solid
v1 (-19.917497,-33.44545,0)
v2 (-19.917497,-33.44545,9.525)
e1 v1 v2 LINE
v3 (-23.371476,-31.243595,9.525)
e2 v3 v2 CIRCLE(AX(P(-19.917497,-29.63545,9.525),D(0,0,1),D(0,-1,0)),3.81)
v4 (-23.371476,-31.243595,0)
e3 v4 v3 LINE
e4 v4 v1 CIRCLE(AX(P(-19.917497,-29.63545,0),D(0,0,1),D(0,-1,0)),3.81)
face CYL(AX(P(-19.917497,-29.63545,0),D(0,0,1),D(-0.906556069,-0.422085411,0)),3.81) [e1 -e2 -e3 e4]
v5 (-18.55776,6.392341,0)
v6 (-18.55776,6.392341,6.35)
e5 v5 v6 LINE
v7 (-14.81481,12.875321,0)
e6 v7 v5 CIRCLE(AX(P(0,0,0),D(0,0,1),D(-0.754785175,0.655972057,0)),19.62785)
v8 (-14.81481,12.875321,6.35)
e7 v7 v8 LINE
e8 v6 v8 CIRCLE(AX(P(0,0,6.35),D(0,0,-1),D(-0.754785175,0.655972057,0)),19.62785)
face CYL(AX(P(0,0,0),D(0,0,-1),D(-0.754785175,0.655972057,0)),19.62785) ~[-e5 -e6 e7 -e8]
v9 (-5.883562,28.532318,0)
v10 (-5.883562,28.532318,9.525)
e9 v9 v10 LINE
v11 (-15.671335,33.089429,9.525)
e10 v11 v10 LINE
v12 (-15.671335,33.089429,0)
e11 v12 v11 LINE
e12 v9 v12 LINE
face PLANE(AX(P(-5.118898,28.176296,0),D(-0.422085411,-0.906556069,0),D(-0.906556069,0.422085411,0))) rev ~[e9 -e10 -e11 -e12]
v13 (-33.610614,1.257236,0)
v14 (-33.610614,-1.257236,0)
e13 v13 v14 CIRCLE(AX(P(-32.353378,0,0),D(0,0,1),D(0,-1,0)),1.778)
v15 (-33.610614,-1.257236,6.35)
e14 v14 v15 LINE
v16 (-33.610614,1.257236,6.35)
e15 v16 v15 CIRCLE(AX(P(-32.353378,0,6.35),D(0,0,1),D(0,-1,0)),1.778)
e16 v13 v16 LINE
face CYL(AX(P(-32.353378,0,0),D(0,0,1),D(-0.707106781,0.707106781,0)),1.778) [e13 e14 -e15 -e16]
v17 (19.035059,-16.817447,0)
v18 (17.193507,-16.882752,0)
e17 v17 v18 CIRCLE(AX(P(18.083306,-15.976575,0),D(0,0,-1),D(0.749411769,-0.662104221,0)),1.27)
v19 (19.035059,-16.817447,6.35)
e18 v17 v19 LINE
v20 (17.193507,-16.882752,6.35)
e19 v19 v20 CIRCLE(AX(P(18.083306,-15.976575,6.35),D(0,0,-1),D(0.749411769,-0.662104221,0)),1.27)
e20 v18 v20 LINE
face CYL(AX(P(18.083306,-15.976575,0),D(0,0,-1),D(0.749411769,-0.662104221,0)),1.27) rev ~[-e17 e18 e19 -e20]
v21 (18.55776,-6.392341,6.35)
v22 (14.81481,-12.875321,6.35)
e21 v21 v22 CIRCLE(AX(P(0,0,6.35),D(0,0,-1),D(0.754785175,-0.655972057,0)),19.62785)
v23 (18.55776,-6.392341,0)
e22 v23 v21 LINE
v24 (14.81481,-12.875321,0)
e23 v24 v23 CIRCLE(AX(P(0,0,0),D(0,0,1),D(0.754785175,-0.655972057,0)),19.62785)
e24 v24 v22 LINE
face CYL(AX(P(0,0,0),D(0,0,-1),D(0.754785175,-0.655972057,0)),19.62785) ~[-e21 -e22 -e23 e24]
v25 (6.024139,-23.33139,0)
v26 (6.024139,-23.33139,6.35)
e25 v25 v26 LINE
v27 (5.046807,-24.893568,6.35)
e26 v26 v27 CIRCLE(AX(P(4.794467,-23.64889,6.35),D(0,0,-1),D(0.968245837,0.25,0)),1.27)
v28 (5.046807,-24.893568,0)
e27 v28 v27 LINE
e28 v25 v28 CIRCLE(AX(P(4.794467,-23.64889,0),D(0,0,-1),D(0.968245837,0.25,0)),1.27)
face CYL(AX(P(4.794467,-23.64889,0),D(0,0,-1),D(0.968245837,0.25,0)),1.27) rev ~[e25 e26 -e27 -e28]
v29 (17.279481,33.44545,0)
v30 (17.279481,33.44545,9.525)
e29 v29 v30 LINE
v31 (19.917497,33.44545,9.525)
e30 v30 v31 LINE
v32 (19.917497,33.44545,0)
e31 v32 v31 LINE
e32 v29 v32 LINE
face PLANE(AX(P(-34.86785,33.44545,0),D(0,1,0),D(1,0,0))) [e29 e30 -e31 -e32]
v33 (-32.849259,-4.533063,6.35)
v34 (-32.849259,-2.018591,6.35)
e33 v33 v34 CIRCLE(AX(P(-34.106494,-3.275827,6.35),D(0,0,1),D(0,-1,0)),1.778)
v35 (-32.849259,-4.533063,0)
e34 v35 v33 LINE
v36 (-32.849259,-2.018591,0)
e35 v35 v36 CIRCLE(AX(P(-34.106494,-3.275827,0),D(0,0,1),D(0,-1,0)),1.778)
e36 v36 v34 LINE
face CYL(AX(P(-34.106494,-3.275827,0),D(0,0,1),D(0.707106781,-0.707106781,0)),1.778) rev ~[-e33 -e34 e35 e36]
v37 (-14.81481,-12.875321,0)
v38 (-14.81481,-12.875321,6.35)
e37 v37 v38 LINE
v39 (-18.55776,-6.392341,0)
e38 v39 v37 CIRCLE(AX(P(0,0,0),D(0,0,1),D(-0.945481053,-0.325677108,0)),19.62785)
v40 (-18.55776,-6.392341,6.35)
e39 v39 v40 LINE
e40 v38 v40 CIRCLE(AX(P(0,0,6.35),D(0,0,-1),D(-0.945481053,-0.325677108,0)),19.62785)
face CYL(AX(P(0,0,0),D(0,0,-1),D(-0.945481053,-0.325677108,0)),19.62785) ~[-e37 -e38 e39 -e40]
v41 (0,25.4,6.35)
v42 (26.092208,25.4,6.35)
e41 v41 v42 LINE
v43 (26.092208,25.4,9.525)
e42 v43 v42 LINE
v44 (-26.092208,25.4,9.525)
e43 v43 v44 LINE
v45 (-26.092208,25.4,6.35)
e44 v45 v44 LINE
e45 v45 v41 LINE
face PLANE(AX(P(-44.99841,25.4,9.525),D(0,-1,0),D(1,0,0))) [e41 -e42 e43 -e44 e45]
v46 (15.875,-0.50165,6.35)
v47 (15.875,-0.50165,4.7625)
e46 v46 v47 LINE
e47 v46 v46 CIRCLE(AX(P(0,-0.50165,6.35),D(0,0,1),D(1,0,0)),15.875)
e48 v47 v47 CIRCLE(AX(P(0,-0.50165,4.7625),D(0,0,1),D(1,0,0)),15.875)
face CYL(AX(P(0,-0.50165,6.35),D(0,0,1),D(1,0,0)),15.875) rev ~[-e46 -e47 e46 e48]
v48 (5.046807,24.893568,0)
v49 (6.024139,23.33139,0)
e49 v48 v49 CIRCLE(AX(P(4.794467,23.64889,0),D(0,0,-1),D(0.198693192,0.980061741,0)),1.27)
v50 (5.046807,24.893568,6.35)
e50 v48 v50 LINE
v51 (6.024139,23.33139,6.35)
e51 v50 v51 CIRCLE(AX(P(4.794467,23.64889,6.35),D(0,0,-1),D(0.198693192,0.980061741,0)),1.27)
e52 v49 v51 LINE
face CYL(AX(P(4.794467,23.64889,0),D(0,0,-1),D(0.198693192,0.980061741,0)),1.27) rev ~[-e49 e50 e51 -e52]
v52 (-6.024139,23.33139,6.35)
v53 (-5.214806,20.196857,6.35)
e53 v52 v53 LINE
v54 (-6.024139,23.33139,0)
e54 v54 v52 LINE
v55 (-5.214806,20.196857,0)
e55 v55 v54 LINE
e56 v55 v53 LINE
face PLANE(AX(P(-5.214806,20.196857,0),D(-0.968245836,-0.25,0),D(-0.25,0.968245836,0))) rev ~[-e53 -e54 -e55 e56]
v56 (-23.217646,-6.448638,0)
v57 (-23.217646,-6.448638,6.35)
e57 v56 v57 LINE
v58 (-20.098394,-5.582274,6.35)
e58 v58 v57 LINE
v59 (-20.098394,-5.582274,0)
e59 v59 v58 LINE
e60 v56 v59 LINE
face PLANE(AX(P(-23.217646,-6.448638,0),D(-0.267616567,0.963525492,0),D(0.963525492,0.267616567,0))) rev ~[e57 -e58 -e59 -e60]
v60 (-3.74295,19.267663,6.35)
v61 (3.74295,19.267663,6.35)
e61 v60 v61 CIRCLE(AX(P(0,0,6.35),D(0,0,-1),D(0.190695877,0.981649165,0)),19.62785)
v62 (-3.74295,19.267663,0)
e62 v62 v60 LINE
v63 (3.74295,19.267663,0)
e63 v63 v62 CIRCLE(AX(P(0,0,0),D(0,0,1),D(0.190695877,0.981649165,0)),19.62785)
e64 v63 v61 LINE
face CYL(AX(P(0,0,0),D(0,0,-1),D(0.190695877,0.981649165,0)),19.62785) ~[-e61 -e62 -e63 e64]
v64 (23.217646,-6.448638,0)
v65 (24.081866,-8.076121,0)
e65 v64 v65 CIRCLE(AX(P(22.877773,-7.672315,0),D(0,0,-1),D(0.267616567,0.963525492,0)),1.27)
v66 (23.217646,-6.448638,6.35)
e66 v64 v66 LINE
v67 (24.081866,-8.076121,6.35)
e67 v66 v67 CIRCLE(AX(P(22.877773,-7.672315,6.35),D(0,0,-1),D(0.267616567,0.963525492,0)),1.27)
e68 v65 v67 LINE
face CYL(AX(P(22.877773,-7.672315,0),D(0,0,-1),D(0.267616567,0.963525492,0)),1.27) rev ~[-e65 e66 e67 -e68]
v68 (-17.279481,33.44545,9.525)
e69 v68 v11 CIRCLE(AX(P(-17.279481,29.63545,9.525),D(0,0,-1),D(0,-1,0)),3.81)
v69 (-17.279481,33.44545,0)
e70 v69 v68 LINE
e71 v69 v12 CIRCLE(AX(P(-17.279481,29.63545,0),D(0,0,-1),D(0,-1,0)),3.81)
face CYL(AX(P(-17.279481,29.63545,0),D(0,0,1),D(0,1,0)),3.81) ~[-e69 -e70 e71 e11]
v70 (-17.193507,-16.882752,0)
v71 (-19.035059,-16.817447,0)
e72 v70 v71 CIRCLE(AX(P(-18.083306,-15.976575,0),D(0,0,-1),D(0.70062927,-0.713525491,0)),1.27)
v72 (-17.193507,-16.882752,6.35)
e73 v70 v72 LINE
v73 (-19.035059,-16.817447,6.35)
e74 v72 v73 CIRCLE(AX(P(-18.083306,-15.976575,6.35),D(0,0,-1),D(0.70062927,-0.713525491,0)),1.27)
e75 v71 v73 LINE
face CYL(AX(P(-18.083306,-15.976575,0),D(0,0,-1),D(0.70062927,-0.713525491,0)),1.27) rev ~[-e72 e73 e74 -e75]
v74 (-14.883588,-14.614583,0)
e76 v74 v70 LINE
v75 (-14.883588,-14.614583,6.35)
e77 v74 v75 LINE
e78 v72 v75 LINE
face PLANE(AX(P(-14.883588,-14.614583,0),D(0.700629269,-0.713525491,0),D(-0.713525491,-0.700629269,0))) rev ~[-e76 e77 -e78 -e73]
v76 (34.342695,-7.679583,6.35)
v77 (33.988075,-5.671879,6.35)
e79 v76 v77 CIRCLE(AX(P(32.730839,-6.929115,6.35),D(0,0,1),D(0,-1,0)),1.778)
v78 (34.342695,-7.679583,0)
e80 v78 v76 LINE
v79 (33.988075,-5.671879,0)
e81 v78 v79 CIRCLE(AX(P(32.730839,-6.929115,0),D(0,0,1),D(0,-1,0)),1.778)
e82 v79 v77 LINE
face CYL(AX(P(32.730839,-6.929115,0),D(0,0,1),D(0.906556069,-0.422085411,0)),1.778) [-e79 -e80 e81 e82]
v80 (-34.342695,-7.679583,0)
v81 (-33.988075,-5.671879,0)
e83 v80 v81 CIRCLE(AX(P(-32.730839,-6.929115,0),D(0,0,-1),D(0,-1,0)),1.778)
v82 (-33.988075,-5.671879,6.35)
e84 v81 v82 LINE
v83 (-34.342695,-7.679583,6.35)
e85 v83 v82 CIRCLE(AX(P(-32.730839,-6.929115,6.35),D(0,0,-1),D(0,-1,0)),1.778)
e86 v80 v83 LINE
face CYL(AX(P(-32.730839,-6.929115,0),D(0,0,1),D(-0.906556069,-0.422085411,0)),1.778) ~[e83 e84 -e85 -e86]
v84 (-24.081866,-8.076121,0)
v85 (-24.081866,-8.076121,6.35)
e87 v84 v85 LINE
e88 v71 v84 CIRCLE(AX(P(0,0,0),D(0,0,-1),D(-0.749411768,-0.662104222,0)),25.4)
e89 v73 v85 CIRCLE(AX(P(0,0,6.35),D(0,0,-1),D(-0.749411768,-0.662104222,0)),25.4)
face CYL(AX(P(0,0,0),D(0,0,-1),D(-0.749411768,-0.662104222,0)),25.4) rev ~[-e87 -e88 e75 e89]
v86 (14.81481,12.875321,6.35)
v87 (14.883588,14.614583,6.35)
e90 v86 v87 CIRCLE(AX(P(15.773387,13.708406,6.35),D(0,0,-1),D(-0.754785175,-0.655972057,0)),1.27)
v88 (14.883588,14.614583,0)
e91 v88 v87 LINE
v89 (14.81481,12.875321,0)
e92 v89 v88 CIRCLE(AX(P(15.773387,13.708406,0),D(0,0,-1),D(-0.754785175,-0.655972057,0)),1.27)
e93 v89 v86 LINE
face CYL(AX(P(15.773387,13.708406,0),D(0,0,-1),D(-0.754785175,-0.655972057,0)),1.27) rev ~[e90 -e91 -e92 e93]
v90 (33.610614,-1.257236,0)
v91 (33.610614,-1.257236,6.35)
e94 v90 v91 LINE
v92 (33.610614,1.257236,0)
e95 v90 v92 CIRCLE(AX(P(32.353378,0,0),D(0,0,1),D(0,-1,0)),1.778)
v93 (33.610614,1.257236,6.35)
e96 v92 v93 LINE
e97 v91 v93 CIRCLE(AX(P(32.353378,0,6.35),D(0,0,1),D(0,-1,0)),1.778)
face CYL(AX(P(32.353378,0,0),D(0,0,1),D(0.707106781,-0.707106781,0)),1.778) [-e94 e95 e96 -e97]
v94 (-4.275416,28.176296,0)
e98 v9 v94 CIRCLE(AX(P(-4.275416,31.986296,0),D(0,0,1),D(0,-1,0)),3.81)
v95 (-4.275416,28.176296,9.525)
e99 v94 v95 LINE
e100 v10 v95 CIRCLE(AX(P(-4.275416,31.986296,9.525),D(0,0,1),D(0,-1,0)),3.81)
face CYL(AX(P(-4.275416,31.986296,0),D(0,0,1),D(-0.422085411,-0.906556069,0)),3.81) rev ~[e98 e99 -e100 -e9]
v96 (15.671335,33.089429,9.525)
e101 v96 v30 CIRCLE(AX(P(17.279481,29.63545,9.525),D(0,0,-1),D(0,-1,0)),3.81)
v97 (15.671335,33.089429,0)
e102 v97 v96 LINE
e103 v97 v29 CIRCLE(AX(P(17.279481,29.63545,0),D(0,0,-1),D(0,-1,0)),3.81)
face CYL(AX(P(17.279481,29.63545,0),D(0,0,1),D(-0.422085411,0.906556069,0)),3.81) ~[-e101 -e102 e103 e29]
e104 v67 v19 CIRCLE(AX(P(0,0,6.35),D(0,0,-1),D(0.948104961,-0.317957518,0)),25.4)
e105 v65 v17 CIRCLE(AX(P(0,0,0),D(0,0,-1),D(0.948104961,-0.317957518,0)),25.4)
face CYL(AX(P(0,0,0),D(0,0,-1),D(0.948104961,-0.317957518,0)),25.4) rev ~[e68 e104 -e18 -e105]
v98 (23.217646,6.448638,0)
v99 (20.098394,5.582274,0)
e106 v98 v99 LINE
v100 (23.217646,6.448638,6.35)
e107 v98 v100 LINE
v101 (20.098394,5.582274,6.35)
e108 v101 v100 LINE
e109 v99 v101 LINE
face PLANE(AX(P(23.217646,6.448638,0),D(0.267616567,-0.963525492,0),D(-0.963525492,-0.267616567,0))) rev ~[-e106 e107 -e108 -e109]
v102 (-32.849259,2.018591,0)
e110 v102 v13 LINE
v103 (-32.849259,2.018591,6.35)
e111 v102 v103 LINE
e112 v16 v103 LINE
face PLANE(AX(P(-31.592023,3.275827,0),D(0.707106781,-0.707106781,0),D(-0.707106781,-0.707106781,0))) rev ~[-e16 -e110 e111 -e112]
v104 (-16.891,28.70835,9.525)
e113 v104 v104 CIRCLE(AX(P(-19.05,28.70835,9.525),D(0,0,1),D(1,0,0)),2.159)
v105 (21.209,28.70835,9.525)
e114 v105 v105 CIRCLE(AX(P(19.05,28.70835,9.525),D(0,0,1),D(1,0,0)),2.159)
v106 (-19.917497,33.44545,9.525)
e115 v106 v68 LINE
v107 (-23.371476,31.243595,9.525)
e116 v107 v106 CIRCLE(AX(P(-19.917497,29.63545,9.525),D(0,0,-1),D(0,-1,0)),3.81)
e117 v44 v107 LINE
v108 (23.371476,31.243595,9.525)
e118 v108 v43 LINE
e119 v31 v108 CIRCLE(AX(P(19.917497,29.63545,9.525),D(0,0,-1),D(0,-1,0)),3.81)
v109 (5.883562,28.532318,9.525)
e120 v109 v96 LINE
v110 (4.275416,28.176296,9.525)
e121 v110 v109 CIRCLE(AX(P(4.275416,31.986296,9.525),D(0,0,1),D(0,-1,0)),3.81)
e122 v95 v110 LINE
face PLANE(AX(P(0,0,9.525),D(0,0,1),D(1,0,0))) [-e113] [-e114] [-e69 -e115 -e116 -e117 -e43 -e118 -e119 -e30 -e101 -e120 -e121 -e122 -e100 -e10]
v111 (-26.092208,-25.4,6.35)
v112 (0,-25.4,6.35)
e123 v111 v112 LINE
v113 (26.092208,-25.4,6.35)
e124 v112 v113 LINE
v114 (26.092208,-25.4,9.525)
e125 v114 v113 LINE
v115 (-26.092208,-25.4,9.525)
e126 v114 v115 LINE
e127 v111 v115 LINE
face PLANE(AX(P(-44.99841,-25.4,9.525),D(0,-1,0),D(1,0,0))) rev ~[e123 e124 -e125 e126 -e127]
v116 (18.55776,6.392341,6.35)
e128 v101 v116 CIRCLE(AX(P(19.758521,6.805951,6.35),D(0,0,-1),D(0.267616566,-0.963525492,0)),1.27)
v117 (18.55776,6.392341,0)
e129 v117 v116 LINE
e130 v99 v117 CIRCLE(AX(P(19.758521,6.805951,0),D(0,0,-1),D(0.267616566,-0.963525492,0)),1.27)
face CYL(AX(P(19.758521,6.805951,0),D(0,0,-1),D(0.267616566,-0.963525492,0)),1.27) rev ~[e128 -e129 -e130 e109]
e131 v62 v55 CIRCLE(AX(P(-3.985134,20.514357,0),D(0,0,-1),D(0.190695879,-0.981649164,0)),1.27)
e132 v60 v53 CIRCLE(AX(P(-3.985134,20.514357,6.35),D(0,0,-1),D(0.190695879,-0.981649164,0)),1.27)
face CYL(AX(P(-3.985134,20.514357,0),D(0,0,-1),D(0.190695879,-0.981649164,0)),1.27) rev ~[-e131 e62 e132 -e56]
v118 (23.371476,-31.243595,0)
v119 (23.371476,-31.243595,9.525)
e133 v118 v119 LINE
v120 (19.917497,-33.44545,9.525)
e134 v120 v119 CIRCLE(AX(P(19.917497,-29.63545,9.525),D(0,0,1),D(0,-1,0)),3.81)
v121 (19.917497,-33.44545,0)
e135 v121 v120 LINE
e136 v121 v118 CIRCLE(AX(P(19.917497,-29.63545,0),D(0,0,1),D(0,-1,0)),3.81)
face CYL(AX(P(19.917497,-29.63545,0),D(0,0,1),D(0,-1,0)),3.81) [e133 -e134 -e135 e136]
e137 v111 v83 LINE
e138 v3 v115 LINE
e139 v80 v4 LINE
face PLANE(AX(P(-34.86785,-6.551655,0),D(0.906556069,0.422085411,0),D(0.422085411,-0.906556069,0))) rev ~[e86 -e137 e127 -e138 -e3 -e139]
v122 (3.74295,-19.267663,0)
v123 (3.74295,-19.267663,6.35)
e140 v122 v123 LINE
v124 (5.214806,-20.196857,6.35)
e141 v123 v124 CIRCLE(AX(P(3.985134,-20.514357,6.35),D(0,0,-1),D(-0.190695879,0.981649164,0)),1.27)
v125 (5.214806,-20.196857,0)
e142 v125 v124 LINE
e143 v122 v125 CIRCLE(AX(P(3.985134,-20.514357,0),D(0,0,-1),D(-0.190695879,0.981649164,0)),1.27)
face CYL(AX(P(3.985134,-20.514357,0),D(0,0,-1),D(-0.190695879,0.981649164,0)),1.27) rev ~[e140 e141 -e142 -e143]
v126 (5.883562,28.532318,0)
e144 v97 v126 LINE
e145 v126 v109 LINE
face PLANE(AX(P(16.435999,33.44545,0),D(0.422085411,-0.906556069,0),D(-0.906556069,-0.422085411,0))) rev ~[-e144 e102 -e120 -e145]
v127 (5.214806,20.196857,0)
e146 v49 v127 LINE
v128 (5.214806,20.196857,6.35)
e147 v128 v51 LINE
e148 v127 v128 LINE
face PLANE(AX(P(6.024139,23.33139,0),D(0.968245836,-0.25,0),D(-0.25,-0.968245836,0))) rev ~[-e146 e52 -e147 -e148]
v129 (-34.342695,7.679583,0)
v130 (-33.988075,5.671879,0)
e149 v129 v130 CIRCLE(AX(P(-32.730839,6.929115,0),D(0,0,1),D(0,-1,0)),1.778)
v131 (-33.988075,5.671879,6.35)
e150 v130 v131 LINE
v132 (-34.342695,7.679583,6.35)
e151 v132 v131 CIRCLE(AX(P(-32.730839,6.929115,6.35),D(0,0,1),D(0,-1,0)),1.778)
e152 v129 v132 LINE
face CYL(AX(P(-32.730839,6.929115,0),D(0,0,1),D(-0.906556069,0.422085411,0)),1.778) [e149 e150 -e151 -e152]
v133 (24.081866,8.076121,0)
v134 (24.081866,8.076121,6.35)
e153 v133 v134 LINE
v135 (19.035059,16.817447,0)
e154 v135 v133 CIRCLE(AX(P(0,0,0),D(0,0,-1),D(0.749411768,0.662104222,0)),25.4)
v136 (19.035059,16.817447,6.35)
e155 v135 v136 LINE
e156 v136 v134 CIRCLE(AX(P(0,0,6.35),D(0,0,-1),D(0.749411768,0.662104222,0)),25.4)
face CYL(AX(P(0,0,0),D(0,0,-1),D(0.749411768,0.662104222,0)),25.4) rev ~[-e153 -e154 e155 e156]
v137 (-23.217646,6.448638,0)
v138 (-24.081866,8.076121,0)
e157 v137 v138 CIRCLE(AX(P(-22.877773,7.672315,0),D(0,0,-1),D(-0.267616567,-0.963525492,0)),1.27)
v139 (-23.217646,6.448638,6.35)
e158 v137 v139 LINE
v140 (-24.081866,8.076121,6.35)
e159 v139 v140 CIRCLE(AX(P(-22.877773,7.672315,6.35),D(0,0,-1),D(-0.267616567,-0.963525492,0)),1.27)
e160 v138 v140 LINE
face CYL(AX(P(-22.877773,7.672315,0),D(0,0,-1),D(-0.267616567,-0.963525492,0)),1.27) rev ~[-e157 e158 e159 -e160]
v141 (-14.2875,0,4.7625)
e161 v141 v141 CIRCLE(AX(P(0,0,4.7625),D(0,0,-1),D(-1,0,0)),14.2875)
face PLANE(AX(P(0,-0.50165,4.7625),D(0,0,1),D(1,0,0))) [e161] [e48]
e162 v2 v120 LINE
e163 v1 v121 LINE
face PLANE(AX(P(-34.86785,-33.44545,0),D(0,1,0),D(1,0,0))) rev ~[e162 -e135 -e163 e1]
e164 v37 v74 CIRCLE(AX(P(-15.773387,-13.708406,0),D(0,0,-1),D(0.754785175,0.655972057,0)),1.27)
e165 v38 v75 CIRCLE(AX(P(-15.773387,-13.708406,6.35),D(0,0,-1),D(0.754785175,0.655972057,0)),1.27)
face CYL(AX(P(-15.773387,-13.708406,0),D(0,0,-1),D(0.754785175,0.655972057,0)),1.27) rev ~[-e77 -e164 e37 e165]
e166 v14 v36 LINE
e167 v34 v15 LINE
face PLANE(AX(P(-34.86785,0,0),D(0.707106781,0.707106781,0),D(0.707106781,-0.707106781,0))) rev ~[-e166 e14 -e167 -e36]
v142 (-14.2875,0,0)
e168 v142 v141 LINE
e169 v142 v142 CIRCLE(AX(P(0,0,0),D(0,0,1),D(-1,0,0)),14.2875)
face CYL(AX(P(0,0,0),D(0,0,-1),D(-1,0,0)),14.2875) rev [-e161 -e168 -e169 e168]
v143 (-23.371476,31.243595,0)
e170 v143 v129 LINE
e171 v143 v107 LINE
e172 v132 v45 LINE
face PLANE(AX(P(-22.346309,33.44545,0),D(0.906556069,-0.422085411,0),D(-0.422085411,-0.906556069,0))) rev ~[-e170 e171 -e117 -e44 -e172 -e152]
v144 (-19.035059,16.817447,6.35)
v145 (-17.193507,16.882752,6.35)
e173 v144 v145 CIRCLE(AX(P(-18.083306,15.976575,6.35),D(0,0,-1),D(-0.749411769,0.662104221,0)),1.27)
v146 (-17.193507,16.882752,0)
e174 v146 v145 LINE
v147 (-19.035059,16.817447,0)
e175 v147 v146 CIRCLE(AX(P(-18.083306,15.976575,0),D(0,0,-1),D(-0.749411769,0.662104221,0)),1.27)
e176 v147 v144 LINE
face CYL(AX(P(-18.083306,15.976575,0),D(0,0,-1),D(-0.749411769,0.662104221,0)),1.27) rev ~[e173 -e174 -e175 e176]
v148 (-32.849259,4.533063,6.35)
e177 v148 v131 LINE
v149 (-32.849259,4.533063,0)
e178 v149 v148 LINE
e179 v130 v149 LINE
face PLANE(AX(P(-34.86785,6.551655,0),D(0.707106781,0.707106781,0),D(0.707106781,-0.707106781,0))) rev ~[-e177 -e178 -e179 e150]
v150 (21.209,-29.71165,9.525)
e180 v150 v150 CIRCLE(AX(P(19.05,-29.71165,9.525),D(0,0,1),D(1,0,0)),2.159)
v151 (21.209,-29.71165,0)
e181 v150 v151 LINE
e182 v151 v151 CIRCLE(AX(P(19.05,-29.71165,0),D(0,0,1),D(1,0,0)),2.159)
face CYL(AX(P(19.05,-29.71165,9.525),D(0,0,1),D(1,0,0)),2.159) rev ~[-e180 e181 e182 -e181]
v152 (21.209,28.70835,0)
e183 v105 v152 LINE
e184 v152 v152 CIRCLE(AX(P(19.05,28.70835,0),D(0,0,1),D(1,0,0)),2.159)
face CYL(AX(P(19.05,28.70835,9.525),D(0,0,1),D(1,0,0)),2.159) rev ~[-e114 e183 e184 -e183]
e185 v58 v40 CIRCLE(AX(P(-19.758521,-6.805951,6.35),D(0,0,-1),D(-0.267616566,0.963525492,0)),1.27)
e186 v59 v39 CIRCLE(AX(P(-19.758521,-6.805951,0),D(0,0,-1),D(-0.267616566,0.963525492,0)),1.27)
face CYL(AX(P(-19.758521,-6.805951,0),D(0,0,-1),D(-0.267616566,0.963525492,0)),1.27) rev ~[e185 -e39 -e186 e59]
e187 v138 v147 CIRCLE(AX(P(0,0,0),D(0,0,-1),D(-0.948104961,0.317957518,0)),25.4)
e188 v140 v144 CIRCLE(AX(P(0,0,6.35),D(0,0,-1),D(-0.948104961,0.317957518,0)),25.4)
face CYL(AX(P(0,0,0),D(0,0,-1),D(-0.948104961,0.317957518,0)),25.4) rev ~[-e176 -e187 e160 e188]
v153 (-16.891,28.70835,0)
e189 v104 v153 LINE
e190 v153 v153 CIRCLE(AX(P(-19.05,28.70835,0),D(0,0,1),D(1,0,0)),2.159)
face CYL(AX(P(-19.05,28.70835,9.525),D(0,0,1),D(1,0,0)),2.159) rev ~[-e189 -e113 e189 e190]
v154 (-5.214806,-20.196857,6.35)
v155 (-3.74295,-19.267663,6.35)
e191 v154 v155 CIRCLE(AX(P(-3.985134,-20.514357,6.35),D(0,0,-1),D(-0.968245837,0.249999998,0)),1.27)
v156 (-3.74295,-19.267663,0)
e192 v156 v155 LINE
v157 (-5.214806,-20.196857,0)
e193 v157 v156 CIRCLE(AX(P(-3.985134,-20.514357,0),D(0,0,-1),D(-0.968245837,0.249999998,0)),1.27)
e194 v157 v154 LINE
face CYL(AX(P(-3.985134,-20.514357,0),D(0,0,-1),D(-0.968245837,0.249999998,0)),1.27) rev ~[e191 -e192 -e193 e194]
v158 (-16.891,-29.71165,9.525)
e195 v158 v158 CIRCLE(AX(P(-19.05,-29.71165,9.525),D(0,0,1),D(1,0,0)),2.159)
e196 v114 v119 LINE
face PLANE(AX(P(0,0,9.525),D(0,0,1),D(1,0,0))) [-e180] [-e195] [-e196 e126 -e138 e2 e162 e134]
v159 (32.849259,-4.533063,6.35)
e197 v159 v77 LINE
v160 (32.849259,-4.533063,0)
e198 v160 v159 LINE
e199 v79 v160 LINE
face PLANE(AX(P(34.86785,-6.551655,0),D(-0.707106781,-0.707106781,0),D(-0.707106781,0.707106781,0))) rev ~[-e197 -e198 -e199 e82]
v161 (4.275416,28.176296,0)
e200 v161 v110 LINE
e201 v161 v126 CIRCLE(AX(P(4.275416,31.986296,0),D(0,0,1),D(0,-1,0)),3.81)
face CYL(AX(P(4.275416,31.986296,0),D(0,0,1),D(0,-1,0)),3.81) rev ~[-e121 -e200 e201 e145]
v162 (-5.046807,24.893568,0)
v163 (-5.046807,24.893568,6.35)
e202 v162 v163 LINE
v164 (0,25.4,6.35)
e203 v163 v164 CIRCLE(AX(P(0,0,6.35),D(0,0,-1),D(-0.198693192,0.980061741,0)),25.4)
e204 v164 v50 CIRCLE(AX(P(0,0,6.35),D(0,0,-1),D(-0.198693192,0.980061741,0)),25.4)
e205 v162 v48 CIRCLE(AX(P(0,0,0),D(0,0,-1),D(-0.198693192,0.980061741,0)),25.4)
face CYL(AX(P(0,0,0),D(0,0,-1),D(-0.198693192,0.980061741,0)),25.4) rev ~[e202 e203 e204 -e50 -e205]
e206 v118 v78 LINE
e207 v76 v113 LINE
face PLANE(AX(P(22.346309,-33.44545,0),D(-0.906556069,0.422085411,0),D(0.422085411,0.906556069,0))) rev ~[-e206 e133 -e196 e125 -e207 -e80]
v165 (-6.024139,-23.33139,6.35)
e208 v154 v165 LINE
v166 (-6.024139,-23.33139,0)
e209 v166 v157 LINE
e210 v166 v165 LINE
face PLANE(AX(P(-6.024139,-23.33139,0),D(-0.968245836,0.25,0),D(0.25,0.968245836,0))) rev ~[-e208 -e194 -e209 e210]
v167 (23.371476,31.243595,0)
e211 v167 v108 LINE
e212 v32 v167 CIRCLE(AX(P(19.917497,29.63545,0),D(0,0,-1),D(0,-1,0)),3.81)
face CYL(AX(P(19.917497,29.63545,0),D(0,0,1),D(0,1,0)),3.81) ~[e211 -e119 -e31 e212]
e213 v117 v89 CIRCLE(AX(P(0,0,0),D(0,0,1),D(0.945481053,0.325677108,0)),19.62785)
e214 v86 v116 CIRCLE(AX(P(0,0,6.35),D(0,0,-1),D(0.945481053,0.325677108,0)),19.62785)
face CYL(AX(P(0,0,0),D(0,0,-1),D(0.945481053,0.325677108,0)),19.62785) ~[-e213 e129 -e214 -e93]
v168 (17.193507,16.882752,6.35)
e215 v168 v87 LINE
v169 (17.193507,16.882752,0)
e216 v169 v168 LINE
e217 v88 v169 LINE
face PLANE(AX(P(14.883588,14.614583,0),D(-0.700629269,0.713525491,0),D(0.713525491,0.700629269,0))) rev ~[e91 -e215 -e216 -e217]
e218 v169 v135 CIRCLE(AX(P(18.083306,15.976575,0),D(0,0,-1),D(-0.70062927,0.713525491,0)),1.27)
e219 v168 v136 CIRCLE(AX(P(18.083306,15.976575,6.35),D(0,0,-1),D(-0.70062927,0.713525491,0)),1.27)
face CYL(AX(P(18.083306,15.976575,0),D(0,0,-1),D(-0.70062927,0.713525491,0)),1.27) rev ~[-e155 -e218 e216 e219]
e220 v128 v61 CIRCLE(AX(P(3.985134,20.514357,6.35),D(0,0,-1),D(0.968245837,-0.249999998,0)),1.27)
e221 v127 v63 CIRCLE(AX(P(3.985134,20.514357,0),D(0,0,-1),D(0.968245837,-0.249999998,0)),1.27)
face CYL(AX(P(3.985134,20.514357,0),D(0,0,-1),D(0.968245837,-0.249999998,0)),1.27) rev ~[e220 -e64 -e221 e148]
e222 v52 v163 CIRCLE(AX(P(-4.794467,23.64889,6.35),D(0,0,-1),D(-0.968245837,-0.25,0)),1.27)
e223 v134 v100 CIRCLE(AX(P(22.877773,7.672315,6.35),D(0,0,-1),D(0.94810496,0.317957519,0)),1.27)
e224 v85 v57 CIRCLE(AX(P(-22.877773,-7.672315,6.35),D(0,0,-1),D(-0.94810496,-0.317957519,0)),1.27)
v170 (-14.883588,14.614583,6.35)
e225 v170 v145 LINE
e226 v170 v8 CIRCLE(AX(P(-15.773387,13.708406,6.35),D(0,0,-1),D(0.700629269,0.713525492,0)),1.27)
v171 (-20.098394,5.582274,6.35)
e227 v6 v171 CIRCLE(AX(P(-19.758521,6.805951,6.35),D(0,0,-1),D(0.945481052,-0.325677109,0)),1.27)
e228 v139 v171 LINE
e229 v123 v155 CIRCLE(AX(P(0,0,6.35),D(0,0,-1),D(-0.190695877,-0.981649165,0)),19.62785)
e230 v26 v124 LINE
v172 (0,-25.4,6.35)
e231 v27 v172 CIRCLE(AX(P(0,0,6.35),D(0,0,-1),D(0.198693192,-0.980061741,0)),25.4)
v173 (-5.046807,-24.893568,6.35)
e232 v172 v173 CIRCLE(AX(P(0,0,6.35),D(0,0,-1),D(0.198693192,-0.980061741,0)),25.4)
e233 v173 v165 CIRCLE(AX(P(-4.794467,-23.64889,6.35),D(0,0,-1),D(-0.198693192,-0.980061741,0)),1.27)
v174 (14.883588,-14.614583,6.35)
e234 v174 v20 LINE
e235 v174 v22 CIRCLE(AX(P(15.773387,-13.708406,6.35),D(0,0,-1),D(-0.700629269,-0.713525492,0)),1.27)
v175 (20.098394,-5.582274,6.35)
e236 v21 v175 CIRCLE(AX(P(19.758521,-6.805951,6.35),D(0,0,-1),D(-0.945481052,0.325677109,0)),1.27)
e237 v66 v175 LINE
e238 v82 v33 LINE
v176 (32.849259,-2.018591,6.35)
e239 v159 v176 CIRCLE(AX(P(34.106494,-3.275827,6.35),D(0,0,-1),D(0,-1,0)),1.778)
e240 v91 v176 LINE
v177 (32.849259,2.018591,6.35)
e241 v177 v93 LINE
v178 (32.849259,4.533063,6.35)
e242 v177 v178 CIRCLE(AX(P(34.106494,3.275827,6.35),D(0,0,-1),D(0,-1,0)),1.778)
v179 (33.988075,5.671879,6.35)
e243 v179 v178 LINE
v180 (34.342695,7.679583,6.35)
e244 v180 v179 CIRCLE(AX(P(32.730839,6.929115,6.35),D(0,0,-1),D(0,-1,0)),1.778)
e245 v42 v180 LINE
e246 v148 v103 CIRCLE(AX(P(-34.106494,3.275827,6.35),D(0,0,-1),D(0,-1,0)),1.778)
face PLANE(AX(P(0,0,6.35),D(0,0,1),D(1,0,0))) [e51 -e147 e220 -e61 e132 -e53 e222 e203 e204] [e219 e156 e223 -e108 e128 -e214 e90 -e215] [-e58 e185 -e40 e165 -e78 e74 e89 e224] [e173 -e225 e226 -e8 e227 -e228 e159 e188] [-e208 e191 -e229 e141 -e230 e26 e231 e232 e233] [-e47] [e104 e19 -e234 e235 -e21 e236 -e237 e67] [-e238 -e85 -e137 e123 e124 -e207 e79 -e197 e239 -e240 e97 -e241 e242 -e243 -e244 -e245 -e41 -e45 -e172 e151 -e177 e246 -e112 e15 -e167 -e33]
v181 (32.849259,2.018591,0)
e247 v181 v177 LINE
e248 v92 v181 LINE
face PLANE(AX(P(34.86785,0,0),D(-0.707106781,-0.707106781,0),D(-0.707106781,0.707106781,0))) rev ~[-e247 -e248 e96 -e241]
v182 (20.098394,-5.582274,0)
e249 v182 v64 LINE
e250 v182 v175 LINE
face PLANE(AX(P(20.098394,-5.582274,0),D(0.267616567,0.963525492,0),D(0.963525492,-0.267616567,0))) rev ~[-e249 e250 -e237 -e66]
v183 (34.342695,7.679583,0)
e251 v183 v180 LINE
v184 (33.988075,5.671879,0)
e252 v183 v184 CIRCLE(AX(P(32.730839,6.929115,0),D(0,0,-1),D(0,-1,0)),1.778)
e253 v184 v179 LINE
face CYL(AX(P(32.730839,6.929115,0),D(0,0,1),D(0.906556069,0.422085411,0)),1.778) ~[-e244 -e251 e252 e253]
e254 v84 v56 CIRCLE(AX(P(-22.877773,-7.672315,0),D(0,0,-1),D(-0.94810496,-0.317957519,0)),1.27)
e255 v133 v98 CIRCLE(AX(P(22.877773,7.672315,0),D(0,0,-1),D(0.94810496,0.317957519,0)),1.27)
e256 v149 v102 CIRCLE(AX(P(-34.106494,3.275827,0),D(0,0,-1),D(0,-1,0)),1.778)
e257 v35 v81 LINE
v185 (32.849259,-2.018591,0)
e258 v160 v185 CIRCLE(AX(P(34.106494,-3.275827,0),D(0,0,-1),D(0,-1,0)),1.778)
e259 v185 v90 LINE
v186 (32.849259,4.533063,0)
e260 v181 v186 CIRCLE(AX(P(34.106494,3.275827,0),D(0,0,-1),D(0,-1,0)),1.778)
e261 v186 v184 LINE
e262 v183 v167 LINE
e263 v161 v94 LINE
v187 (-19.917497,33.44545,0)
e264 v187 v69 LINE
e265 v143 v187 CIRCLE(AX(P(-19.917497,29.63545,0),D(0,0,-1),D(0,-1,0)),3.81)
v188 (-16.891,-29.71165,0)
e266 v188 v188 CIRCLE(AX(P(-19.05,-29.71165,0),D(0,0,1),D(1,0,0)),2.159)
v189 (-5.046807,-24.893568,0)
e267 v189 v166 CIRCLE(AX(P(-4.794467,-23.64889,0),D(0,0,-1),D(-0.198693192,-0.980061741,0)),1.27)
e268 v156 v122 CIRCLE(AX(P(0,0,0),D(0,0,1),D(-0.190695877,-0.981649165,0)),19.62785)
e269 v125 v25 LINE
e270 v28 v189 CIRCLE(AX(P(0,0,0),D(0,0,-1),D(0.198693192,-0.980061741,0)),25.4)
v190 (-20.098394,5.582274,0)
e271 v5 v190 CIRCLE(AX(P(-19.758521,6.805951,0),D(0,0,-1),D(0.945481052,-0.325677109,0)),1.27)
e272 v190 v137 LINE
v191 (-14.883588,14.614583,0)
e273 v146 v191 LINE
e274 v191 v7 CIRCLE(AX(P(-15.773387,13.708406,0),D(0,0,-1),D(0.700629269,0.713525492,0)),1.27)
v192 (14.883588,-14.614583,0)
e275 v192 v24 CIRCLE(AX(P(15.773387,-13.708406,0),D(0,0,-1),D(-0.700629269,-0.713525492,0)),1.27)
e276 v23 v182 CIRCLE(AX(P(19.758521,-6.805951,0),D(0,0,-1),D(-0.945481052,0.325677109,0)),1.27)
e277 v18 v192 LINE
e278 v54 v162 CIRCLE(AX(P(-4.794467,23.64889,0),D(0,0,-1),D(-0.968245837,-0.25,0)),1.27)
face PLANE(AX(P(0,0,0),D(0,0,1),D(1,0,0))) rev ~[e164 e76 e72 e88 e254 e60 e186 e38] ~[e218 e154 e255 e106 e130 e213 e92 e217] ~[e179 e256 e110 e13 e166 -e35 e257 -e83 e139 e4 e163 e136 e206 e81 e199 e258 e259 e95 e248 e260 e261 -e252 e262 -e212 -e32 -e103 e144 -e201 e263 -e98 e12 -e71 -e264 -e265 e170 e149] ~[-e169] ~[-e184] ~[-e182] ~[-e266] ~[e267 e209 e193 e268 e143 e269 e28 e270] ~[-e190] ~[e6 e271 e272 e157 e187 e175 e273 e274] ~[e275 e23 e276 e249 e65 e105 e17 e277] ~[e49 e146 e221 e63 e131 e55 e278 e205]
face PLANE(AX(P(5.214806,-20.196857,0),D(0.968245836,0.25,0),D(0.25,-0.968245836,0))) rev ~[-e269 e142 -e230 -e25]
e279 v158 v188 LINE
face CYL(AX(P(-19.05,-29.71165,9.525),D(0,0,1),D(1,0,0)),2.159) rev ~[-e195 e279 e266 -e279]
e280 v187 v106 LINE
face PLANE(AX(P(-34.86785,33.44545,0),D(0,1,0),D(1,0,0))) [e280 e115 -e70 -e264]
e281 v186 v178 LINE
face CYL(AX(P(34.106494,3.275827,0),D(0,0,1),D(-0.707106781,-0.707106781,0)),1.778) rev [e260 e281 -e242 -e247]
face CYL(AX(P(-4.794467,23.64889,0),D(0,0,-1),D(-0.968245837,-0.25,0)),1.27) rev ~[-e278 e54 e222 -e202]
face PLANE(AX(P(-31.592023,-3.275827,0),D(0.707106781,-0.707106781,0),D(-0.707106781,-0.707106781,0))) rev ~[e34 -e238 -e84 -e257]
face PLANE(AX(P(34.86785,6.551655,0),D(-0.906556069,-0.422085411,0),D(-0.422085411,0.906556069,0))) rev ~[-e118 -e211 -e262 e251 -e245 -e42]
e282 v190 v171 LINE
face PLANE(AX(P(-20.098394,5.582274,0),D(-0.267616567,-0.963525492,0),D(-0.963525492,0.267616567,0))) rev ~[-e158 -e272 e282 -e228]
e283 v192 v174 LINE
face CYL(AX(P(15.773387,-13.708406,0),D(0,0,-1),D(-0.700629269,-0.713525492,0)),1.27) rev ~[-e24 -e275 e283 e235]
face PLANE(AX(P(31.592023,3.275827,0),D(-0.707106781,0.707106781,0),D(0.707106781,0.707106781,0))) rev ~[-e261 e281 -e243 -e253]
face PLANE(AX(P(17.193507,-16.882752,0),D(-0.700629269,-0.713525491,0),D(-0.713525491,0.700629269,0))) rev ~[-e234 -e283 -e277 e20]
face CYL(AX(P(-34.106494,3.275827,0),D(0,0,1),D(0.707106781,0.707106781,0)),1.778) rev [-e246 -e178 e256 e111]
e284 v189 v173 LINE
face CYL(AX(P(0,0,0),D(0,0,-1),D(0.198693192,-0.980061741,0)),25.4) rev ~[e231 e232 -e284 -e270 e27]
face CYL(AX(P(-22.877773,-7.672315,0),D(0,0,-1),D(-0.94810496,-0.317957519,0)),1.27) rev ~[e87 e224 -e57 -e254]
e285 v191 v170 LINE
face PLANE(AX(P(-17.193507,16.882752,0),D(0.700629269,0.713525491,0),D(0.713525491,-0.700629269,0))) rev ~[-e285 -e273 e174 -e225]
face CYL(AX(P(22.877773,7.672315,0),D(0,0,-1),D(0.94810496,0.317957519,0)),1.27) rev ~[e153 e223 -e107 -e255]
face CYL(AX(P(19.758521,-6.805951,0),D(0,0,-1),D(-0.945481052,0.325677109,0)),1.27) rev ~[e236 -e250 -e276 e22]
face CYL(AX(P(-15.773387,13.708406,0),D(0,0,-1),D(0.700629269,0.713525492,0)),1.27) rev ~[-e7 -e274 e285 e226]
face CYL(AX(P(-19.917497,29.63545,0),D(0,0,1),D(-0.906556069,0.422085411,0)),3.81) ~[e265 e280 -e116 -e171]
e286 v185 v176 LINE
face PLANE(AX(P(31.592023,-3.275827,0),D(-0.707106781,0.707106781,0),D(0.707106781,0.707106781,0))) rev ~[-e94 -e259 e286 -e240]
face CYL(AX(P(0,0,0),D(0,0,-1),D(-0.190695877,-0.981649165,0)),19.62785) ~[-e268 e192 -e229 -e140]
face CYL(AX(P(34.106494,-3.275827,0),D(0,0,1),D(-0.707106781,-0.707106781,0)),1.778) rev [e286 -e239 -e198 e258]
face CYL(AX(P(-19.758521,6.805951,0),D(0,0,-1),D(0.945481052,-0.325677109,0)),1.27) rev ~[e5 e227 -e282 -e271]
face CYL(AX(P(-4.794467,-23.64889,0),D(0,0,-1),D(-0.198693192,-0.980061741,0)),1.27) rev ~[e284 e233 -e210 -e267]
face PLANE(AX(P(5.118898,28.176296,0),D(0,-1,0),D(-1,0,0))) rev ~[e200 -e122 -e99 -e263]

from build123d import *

# Parameters (mm, degrees)
SKETCH1_W           = 69.7357
SKETCH1_H           = 66.8909
SKETCH1_R           = 14.2875
BOSS_EXTRUDE1_DEPTH = 9.525
SKETCH2_W           = 89.996819584
SKETCH2_H           = 50.8
CUT_EXTRUDE1_DEPTH  = 3.175
SKETCH3_R           = 15.875
CUT_EXTRUDE2_DEPTH  = 1.5875
CUT_EXTRUDE3_DEPTH  = 50.245210065
FILLET1_R           = 3.81
FILLET2_R           = 1.778
CUT_EXTRUDE4_DEPTH  = 49.991669707
SKETCH6_R           = 2.159
CUT_EXTRUDE5_DEPTH  = 49.991669707


with BuildPart() as part:
    # Sketch1 → Boss-Extrude1 (new body)
    with BuildSketch(Plane.XY):
        Rectangle(SKETCH1_W, SKETCH1_H)
        with Locations(Location((0, 0, 0), (0, 0, 180))):
            Circle(SKETCH1_R, mode=Mode.SUBTRACT)
    extrude(amount=BOSS_EXTRUDE1_DEPTH)

    # Sketch2 → Cut-Extrude1 (cut)
    with BuildSketch(Plane.XY.offset(9.525)):
        Rectangle(SKETCH2_W, SKETCH2_H)
    extrude(amount=-CUT_EXTRUDE1_DEPTH, mode=Mode.SUBTRACT)

    # Sketch3 → Cut-Extrude2 (cut)
    with BuildSketch(Plane.XY.offset(6.35)):
        with Locations((0, -0.50165)):
            Circle(SKETCH3_R)
    extrude(amount=-CUT_EXTRUDE2_DEPTH, mode=Mode.SUBTRACT)

    # Sketch4 → Cut-Extrude3 (cut, through all)
    with BuildSketch(Plane(origin=(0, 0, 0), x_dir=(-1, 0, 0), z_dir=(0, 0, -1))):
        Polygon((-34.86785, 6.551654679), (-22.346309376, 33.44545), (-34.86785, 33.44545), align=None)
        Polygon((-31.592022661, 3.275827339), (-34.86785, 6.551654679), (-34.86785, 0), align=None)
        Polygon((-31.592022661, -3.275827339), (-34.86785, 0), (-34.86785, -6.551654679), align=None)
        Polygon((-22.346309376, -33.44545), (-34.86785, -6.551654679), (-34.86785, -33.44545), align=None)
        Polygon((34.86785, -33.44545), (34.86785, -6.551654679), (22.346309376, -33.44545), align=None)
        Polygon((-5.118898156, 28.176296472), (5.118898156, 28.176296472), (16.435998884, 33.44545), (-16.435998884, 33.44545), align=None)
        Polygon((34.86785, 33.44545), (22.346309376, 33.44545), (34.86785, 6.551654679), align=None)
        Polygon((34.86785, 0), (34.86785, 6.551654679), (31.592022661, 3.275827339), align=None)
        Polygon((34.86785, -6.551654679), (34.86785, 0), (31.592022661, -3.275827339), align=None)
    extrude(amount=-CUT_EXTRUDE3_DEPTH, mode=Mode.SUBTRACT)

    # Fillet1
    fillet1_edges = [part.edges().sort_by_distance(p)[0] for p in [
        (-5.118898156, 28.176296472, 4.7625),
        (5.118898156, 28.176296472, 4.7625),
        (16.435998884, 33.44545, 4.7625),
        (-16.435998884, 33.44545, 4.7625),
        (-22.346309376, 33.44545, 4.7625),
        (22.346309376, 33.44545, 4.7625),
        (22.346309376, -33.44545, 4.7625),
        (-22.346309376, -33.44545, 4.7625),
    ]]
    fillet(fillet1_edges, radius=FILLET1_R)

    # Fillet2
    fillet2_edges = [part.edges().sort_by_distance(p)[0] for p in [
        (31.592022661, -3.275827339, 3.175),
        (-34.86785, 6.551654679, 3.175),
        (-34.86785, 0, 3.175),
        (-31.592022661, 3.275827339, 3.175),
        (-31.592022661, -3.275827339, 3.175),
        (34.86785, 6.551654679, 3.175),
        (31.592022661, 3.275827339, 3.175),
        (34.86785, 0, 3.175),
        (34.86785, -6.551654679, 3.175),
        (-34.86785, -6.551654679, 3.175),
    ]]
    fillet(fillet2_edges, radius=FILLET2_R)

    # Sketch5 → Cut-Extrude4 (cut, through all)
    with BuildSketch(Plane(origin=(0, 0, 0), x_dir=(-1, 0, 0), z_dir=(0, 0, -1))):
        with BuildLine():
            Line((5.214806052, 20.196856995), (6.024138943, 23.3313898))
            ThreePointArc((6.024138943, 23.3313898), (5.871123899, 24.322469299), (5.046807084, 24.893568211))
            ThreePointArc((5.046807084, 24.893568211), (0, 25.4), (-5.046807084, 24.893568211))
            ThreePointArc((-5.046807084, 24.893568211), (-5.871123899, 24.322469299), (-6.024138943, 23.3313898))
            Line((-6.024138943, 23.3313898), (-5.214806052, 20.196856995))
            ThreePointArc((-5.214806052, 20.196856995), (-4.663096918, 19.440454734), (-3.742950076, 19.267662556))
            ThreePointArc((-3.742950076, 19.267662556), (0, 19.62785), (3.742950076, 19.267662556))
            ThreePointArc((3.742950076, 19.267662556), (4.663096918, 19.440454734), (5.214806052, 20.196856995))
        make_face()
        with BuildLine():
            Line((20.09839426, 5.58227398), (23.217645744, 6.44863754))
            ThreePointArc((23.217645744, 6.44863754), (23.999438245, 7.076692204), (24.081866003, 8.076120962))
            ThreePointArc((24.081866003, 8.076120962), (21.997045256, 12.7), (19.035058919, 16.817447248))
            ThreePointArc((19.035058919, 16.817447248), (18.128314346, 17.245777095), (17.193506801, 16.88275226))
            Line((17.193506801, 16.88275226), (14.883588208, 14.614583014))
            ThreePointArc((14.883588208, 14.614583014), (14.504379202, 13.758587758), (14.814810207, 12.875321128))
            ThreePointArc((14.814810207, 12.875321128), (16.998216722, 9.813925), (18.557760282, 6.392341427))
            ThreePointArc((18.557760282, 6.392341427), (19.16747612, 5.681866976), (20.09839426, 5.58227398))
        make_face()
        with BuildLine():
            Line((14.883588208, -14.614583014), (17.193506801, -16.88275226))
            ThreePointArc((17.193506801, -16.88275226), (18.128314346, -17.245777095), (19.035058919, -16.817447248))
            ThreePointArc((19.035058919, -16.817447248), (21.997045256, -12.7), (24.081866003, -8.076120962))
            ThreePointArc((24.081866003, -8.076120962), (23.999438245, -7.076692204), (23.217645744, -6.44863754))
            Line((23.217645744, -6.44863754), (20.09839426, -5.58227398))
            ThreePointArc((20.09839426, -5.58227398), (19.16747612, -5.681866976), (18.557760282, -6.392341427))
            ThreePointArc((18.557760282, -6.392341427), (16.998216722, -9.813925), (14.814810207, -12.875321128))
            ThreePointArc((14.814810207, -12.875321128), (14.504379202, -13.758587758), (14.883588208, -14.614583014))
        make_face()
        with BuildLine():
            Line((-5.214806052, -20.196856995), (-6.024138943, -23.3313898))
            ThreePointArc((-6.024138943, -23.3313898), (-5.871123899, -24.322469299), (-5.046807084, -24.893568211))
            ThreePointArc((-5.046807084, -24.893568211), (0, -25.4), (5.046807084, -24.893568211))
            ThreePointArc((5.046807084, -24.893568211), (5.871123899, -24.322469299), (6.024138943, -23.3313898))
            Line((6.024138943, -23.3313898), (5.214806052, -20.196856995))
            ThreePointArc((5.214806052, -20.196856995), (4.663096918, -19.440454734), (3.742950076, -19.267662556))
            ThreePointArc((3.742950076, -19.267662556), (0, -19.62785), (-3.742950076, -19.267662556))
            ThreePointArc((-3.742950076, -19.267662556), (-4.663096918, -19.440454734), (-5.214806052, -20.196856995))
        make_face()
        with BuildLine():
            Line((-20.09839426, -5.58227398), (-23.217645744, -6.44863754))
            ThreePointArc((-23.217645744, -6.44863754), (-23.999438245, -7.076692204), (-24.081866003, -8.076120962))
            ThreePointArc((-24.081866003, -8.076120962), (-21.997045256, -12.7), (-19.035058919, -16.817447248))
            ThreePointArc((-19.035058919, -16.817447248), (-18.128314346, -17.245777095), (-17.193506801, -16.88275226))
            Line((-17.193506801, -16.88275226), (-14.883588208, -14.614583014))
            ThreePointArc((-14.883588208, -14.614583014), (-14.504379202, -13.758587758), (-14.814810207, -12.875321128))
            ThreePointArc((-14.814810207, -12.875321128), (-16.998216722, -9.813925), (-18.557760282, -6.392341427))
            ThreePointArc((-18.557760282, -6.392341427), (-19.16747612, -5.681866976), (-20.09839426, -5.58227398))
        make_face()
        with BuildLine():
            Line((-14.883588208, 14.614583014), (-17.193506801, 16.88275226))
            ThreePointArc((-17.193506801, 16.88275226), (-18.128314346, 17.245777095), (-19.035058919, 16.817447248))
            ThreePointArc((-19.035058919, 16.817447248), (-21.997045256, 12.7), (-24.081866003, 8.076120962))
            ThreePointArc((-24.081866003, 8.076120962), (-23.999438245, 7.076692204), (-23.217645744, 6.44863754))
            Line((-23.217645744, 6.44863754), (-20.09839426, 5.58227398))
            ThreePointArc((-20.09839426, 5.58227398), (-19.16747612, 5.681866976), (-18.557760282, 6.392341427))
            ThreePointArc((-18.557760282, 6.392341427), (-16.998216722, 9.813925), (-14.814810207, 12.875321128))
            ThreePointArc((-14.814810207, 12.875321128), (-14.504379202, 13.758587758), (-14.883588208, 14.614583014))
        make_face()
    extrude(amount=-CUT_EXTRUDE4_DEPTH, mode=Mode.SUBTRACT)

    # Sketch6 → Cut-Extrude5 (cut, through all)
    with BuildSketch(Plane.XY.offset(9.525)):
        with Locations((-19.05, 28.70835)):
            Circle(SKETCH6_R)
        with Locations((19.05, 28.70835)):
            Circle(SKETCH6_R)
        with Locations((-19.05, -29.71165)):
            Circle(SKETCH6_R)
        with Locations((19.05, -29.71165)):
            Circle(SKETCH6_R)
    extrude(amount=-CUT_EXTRUDE5_DEPTH, mode=Mode.SUBTRACT)


solid = part.part
